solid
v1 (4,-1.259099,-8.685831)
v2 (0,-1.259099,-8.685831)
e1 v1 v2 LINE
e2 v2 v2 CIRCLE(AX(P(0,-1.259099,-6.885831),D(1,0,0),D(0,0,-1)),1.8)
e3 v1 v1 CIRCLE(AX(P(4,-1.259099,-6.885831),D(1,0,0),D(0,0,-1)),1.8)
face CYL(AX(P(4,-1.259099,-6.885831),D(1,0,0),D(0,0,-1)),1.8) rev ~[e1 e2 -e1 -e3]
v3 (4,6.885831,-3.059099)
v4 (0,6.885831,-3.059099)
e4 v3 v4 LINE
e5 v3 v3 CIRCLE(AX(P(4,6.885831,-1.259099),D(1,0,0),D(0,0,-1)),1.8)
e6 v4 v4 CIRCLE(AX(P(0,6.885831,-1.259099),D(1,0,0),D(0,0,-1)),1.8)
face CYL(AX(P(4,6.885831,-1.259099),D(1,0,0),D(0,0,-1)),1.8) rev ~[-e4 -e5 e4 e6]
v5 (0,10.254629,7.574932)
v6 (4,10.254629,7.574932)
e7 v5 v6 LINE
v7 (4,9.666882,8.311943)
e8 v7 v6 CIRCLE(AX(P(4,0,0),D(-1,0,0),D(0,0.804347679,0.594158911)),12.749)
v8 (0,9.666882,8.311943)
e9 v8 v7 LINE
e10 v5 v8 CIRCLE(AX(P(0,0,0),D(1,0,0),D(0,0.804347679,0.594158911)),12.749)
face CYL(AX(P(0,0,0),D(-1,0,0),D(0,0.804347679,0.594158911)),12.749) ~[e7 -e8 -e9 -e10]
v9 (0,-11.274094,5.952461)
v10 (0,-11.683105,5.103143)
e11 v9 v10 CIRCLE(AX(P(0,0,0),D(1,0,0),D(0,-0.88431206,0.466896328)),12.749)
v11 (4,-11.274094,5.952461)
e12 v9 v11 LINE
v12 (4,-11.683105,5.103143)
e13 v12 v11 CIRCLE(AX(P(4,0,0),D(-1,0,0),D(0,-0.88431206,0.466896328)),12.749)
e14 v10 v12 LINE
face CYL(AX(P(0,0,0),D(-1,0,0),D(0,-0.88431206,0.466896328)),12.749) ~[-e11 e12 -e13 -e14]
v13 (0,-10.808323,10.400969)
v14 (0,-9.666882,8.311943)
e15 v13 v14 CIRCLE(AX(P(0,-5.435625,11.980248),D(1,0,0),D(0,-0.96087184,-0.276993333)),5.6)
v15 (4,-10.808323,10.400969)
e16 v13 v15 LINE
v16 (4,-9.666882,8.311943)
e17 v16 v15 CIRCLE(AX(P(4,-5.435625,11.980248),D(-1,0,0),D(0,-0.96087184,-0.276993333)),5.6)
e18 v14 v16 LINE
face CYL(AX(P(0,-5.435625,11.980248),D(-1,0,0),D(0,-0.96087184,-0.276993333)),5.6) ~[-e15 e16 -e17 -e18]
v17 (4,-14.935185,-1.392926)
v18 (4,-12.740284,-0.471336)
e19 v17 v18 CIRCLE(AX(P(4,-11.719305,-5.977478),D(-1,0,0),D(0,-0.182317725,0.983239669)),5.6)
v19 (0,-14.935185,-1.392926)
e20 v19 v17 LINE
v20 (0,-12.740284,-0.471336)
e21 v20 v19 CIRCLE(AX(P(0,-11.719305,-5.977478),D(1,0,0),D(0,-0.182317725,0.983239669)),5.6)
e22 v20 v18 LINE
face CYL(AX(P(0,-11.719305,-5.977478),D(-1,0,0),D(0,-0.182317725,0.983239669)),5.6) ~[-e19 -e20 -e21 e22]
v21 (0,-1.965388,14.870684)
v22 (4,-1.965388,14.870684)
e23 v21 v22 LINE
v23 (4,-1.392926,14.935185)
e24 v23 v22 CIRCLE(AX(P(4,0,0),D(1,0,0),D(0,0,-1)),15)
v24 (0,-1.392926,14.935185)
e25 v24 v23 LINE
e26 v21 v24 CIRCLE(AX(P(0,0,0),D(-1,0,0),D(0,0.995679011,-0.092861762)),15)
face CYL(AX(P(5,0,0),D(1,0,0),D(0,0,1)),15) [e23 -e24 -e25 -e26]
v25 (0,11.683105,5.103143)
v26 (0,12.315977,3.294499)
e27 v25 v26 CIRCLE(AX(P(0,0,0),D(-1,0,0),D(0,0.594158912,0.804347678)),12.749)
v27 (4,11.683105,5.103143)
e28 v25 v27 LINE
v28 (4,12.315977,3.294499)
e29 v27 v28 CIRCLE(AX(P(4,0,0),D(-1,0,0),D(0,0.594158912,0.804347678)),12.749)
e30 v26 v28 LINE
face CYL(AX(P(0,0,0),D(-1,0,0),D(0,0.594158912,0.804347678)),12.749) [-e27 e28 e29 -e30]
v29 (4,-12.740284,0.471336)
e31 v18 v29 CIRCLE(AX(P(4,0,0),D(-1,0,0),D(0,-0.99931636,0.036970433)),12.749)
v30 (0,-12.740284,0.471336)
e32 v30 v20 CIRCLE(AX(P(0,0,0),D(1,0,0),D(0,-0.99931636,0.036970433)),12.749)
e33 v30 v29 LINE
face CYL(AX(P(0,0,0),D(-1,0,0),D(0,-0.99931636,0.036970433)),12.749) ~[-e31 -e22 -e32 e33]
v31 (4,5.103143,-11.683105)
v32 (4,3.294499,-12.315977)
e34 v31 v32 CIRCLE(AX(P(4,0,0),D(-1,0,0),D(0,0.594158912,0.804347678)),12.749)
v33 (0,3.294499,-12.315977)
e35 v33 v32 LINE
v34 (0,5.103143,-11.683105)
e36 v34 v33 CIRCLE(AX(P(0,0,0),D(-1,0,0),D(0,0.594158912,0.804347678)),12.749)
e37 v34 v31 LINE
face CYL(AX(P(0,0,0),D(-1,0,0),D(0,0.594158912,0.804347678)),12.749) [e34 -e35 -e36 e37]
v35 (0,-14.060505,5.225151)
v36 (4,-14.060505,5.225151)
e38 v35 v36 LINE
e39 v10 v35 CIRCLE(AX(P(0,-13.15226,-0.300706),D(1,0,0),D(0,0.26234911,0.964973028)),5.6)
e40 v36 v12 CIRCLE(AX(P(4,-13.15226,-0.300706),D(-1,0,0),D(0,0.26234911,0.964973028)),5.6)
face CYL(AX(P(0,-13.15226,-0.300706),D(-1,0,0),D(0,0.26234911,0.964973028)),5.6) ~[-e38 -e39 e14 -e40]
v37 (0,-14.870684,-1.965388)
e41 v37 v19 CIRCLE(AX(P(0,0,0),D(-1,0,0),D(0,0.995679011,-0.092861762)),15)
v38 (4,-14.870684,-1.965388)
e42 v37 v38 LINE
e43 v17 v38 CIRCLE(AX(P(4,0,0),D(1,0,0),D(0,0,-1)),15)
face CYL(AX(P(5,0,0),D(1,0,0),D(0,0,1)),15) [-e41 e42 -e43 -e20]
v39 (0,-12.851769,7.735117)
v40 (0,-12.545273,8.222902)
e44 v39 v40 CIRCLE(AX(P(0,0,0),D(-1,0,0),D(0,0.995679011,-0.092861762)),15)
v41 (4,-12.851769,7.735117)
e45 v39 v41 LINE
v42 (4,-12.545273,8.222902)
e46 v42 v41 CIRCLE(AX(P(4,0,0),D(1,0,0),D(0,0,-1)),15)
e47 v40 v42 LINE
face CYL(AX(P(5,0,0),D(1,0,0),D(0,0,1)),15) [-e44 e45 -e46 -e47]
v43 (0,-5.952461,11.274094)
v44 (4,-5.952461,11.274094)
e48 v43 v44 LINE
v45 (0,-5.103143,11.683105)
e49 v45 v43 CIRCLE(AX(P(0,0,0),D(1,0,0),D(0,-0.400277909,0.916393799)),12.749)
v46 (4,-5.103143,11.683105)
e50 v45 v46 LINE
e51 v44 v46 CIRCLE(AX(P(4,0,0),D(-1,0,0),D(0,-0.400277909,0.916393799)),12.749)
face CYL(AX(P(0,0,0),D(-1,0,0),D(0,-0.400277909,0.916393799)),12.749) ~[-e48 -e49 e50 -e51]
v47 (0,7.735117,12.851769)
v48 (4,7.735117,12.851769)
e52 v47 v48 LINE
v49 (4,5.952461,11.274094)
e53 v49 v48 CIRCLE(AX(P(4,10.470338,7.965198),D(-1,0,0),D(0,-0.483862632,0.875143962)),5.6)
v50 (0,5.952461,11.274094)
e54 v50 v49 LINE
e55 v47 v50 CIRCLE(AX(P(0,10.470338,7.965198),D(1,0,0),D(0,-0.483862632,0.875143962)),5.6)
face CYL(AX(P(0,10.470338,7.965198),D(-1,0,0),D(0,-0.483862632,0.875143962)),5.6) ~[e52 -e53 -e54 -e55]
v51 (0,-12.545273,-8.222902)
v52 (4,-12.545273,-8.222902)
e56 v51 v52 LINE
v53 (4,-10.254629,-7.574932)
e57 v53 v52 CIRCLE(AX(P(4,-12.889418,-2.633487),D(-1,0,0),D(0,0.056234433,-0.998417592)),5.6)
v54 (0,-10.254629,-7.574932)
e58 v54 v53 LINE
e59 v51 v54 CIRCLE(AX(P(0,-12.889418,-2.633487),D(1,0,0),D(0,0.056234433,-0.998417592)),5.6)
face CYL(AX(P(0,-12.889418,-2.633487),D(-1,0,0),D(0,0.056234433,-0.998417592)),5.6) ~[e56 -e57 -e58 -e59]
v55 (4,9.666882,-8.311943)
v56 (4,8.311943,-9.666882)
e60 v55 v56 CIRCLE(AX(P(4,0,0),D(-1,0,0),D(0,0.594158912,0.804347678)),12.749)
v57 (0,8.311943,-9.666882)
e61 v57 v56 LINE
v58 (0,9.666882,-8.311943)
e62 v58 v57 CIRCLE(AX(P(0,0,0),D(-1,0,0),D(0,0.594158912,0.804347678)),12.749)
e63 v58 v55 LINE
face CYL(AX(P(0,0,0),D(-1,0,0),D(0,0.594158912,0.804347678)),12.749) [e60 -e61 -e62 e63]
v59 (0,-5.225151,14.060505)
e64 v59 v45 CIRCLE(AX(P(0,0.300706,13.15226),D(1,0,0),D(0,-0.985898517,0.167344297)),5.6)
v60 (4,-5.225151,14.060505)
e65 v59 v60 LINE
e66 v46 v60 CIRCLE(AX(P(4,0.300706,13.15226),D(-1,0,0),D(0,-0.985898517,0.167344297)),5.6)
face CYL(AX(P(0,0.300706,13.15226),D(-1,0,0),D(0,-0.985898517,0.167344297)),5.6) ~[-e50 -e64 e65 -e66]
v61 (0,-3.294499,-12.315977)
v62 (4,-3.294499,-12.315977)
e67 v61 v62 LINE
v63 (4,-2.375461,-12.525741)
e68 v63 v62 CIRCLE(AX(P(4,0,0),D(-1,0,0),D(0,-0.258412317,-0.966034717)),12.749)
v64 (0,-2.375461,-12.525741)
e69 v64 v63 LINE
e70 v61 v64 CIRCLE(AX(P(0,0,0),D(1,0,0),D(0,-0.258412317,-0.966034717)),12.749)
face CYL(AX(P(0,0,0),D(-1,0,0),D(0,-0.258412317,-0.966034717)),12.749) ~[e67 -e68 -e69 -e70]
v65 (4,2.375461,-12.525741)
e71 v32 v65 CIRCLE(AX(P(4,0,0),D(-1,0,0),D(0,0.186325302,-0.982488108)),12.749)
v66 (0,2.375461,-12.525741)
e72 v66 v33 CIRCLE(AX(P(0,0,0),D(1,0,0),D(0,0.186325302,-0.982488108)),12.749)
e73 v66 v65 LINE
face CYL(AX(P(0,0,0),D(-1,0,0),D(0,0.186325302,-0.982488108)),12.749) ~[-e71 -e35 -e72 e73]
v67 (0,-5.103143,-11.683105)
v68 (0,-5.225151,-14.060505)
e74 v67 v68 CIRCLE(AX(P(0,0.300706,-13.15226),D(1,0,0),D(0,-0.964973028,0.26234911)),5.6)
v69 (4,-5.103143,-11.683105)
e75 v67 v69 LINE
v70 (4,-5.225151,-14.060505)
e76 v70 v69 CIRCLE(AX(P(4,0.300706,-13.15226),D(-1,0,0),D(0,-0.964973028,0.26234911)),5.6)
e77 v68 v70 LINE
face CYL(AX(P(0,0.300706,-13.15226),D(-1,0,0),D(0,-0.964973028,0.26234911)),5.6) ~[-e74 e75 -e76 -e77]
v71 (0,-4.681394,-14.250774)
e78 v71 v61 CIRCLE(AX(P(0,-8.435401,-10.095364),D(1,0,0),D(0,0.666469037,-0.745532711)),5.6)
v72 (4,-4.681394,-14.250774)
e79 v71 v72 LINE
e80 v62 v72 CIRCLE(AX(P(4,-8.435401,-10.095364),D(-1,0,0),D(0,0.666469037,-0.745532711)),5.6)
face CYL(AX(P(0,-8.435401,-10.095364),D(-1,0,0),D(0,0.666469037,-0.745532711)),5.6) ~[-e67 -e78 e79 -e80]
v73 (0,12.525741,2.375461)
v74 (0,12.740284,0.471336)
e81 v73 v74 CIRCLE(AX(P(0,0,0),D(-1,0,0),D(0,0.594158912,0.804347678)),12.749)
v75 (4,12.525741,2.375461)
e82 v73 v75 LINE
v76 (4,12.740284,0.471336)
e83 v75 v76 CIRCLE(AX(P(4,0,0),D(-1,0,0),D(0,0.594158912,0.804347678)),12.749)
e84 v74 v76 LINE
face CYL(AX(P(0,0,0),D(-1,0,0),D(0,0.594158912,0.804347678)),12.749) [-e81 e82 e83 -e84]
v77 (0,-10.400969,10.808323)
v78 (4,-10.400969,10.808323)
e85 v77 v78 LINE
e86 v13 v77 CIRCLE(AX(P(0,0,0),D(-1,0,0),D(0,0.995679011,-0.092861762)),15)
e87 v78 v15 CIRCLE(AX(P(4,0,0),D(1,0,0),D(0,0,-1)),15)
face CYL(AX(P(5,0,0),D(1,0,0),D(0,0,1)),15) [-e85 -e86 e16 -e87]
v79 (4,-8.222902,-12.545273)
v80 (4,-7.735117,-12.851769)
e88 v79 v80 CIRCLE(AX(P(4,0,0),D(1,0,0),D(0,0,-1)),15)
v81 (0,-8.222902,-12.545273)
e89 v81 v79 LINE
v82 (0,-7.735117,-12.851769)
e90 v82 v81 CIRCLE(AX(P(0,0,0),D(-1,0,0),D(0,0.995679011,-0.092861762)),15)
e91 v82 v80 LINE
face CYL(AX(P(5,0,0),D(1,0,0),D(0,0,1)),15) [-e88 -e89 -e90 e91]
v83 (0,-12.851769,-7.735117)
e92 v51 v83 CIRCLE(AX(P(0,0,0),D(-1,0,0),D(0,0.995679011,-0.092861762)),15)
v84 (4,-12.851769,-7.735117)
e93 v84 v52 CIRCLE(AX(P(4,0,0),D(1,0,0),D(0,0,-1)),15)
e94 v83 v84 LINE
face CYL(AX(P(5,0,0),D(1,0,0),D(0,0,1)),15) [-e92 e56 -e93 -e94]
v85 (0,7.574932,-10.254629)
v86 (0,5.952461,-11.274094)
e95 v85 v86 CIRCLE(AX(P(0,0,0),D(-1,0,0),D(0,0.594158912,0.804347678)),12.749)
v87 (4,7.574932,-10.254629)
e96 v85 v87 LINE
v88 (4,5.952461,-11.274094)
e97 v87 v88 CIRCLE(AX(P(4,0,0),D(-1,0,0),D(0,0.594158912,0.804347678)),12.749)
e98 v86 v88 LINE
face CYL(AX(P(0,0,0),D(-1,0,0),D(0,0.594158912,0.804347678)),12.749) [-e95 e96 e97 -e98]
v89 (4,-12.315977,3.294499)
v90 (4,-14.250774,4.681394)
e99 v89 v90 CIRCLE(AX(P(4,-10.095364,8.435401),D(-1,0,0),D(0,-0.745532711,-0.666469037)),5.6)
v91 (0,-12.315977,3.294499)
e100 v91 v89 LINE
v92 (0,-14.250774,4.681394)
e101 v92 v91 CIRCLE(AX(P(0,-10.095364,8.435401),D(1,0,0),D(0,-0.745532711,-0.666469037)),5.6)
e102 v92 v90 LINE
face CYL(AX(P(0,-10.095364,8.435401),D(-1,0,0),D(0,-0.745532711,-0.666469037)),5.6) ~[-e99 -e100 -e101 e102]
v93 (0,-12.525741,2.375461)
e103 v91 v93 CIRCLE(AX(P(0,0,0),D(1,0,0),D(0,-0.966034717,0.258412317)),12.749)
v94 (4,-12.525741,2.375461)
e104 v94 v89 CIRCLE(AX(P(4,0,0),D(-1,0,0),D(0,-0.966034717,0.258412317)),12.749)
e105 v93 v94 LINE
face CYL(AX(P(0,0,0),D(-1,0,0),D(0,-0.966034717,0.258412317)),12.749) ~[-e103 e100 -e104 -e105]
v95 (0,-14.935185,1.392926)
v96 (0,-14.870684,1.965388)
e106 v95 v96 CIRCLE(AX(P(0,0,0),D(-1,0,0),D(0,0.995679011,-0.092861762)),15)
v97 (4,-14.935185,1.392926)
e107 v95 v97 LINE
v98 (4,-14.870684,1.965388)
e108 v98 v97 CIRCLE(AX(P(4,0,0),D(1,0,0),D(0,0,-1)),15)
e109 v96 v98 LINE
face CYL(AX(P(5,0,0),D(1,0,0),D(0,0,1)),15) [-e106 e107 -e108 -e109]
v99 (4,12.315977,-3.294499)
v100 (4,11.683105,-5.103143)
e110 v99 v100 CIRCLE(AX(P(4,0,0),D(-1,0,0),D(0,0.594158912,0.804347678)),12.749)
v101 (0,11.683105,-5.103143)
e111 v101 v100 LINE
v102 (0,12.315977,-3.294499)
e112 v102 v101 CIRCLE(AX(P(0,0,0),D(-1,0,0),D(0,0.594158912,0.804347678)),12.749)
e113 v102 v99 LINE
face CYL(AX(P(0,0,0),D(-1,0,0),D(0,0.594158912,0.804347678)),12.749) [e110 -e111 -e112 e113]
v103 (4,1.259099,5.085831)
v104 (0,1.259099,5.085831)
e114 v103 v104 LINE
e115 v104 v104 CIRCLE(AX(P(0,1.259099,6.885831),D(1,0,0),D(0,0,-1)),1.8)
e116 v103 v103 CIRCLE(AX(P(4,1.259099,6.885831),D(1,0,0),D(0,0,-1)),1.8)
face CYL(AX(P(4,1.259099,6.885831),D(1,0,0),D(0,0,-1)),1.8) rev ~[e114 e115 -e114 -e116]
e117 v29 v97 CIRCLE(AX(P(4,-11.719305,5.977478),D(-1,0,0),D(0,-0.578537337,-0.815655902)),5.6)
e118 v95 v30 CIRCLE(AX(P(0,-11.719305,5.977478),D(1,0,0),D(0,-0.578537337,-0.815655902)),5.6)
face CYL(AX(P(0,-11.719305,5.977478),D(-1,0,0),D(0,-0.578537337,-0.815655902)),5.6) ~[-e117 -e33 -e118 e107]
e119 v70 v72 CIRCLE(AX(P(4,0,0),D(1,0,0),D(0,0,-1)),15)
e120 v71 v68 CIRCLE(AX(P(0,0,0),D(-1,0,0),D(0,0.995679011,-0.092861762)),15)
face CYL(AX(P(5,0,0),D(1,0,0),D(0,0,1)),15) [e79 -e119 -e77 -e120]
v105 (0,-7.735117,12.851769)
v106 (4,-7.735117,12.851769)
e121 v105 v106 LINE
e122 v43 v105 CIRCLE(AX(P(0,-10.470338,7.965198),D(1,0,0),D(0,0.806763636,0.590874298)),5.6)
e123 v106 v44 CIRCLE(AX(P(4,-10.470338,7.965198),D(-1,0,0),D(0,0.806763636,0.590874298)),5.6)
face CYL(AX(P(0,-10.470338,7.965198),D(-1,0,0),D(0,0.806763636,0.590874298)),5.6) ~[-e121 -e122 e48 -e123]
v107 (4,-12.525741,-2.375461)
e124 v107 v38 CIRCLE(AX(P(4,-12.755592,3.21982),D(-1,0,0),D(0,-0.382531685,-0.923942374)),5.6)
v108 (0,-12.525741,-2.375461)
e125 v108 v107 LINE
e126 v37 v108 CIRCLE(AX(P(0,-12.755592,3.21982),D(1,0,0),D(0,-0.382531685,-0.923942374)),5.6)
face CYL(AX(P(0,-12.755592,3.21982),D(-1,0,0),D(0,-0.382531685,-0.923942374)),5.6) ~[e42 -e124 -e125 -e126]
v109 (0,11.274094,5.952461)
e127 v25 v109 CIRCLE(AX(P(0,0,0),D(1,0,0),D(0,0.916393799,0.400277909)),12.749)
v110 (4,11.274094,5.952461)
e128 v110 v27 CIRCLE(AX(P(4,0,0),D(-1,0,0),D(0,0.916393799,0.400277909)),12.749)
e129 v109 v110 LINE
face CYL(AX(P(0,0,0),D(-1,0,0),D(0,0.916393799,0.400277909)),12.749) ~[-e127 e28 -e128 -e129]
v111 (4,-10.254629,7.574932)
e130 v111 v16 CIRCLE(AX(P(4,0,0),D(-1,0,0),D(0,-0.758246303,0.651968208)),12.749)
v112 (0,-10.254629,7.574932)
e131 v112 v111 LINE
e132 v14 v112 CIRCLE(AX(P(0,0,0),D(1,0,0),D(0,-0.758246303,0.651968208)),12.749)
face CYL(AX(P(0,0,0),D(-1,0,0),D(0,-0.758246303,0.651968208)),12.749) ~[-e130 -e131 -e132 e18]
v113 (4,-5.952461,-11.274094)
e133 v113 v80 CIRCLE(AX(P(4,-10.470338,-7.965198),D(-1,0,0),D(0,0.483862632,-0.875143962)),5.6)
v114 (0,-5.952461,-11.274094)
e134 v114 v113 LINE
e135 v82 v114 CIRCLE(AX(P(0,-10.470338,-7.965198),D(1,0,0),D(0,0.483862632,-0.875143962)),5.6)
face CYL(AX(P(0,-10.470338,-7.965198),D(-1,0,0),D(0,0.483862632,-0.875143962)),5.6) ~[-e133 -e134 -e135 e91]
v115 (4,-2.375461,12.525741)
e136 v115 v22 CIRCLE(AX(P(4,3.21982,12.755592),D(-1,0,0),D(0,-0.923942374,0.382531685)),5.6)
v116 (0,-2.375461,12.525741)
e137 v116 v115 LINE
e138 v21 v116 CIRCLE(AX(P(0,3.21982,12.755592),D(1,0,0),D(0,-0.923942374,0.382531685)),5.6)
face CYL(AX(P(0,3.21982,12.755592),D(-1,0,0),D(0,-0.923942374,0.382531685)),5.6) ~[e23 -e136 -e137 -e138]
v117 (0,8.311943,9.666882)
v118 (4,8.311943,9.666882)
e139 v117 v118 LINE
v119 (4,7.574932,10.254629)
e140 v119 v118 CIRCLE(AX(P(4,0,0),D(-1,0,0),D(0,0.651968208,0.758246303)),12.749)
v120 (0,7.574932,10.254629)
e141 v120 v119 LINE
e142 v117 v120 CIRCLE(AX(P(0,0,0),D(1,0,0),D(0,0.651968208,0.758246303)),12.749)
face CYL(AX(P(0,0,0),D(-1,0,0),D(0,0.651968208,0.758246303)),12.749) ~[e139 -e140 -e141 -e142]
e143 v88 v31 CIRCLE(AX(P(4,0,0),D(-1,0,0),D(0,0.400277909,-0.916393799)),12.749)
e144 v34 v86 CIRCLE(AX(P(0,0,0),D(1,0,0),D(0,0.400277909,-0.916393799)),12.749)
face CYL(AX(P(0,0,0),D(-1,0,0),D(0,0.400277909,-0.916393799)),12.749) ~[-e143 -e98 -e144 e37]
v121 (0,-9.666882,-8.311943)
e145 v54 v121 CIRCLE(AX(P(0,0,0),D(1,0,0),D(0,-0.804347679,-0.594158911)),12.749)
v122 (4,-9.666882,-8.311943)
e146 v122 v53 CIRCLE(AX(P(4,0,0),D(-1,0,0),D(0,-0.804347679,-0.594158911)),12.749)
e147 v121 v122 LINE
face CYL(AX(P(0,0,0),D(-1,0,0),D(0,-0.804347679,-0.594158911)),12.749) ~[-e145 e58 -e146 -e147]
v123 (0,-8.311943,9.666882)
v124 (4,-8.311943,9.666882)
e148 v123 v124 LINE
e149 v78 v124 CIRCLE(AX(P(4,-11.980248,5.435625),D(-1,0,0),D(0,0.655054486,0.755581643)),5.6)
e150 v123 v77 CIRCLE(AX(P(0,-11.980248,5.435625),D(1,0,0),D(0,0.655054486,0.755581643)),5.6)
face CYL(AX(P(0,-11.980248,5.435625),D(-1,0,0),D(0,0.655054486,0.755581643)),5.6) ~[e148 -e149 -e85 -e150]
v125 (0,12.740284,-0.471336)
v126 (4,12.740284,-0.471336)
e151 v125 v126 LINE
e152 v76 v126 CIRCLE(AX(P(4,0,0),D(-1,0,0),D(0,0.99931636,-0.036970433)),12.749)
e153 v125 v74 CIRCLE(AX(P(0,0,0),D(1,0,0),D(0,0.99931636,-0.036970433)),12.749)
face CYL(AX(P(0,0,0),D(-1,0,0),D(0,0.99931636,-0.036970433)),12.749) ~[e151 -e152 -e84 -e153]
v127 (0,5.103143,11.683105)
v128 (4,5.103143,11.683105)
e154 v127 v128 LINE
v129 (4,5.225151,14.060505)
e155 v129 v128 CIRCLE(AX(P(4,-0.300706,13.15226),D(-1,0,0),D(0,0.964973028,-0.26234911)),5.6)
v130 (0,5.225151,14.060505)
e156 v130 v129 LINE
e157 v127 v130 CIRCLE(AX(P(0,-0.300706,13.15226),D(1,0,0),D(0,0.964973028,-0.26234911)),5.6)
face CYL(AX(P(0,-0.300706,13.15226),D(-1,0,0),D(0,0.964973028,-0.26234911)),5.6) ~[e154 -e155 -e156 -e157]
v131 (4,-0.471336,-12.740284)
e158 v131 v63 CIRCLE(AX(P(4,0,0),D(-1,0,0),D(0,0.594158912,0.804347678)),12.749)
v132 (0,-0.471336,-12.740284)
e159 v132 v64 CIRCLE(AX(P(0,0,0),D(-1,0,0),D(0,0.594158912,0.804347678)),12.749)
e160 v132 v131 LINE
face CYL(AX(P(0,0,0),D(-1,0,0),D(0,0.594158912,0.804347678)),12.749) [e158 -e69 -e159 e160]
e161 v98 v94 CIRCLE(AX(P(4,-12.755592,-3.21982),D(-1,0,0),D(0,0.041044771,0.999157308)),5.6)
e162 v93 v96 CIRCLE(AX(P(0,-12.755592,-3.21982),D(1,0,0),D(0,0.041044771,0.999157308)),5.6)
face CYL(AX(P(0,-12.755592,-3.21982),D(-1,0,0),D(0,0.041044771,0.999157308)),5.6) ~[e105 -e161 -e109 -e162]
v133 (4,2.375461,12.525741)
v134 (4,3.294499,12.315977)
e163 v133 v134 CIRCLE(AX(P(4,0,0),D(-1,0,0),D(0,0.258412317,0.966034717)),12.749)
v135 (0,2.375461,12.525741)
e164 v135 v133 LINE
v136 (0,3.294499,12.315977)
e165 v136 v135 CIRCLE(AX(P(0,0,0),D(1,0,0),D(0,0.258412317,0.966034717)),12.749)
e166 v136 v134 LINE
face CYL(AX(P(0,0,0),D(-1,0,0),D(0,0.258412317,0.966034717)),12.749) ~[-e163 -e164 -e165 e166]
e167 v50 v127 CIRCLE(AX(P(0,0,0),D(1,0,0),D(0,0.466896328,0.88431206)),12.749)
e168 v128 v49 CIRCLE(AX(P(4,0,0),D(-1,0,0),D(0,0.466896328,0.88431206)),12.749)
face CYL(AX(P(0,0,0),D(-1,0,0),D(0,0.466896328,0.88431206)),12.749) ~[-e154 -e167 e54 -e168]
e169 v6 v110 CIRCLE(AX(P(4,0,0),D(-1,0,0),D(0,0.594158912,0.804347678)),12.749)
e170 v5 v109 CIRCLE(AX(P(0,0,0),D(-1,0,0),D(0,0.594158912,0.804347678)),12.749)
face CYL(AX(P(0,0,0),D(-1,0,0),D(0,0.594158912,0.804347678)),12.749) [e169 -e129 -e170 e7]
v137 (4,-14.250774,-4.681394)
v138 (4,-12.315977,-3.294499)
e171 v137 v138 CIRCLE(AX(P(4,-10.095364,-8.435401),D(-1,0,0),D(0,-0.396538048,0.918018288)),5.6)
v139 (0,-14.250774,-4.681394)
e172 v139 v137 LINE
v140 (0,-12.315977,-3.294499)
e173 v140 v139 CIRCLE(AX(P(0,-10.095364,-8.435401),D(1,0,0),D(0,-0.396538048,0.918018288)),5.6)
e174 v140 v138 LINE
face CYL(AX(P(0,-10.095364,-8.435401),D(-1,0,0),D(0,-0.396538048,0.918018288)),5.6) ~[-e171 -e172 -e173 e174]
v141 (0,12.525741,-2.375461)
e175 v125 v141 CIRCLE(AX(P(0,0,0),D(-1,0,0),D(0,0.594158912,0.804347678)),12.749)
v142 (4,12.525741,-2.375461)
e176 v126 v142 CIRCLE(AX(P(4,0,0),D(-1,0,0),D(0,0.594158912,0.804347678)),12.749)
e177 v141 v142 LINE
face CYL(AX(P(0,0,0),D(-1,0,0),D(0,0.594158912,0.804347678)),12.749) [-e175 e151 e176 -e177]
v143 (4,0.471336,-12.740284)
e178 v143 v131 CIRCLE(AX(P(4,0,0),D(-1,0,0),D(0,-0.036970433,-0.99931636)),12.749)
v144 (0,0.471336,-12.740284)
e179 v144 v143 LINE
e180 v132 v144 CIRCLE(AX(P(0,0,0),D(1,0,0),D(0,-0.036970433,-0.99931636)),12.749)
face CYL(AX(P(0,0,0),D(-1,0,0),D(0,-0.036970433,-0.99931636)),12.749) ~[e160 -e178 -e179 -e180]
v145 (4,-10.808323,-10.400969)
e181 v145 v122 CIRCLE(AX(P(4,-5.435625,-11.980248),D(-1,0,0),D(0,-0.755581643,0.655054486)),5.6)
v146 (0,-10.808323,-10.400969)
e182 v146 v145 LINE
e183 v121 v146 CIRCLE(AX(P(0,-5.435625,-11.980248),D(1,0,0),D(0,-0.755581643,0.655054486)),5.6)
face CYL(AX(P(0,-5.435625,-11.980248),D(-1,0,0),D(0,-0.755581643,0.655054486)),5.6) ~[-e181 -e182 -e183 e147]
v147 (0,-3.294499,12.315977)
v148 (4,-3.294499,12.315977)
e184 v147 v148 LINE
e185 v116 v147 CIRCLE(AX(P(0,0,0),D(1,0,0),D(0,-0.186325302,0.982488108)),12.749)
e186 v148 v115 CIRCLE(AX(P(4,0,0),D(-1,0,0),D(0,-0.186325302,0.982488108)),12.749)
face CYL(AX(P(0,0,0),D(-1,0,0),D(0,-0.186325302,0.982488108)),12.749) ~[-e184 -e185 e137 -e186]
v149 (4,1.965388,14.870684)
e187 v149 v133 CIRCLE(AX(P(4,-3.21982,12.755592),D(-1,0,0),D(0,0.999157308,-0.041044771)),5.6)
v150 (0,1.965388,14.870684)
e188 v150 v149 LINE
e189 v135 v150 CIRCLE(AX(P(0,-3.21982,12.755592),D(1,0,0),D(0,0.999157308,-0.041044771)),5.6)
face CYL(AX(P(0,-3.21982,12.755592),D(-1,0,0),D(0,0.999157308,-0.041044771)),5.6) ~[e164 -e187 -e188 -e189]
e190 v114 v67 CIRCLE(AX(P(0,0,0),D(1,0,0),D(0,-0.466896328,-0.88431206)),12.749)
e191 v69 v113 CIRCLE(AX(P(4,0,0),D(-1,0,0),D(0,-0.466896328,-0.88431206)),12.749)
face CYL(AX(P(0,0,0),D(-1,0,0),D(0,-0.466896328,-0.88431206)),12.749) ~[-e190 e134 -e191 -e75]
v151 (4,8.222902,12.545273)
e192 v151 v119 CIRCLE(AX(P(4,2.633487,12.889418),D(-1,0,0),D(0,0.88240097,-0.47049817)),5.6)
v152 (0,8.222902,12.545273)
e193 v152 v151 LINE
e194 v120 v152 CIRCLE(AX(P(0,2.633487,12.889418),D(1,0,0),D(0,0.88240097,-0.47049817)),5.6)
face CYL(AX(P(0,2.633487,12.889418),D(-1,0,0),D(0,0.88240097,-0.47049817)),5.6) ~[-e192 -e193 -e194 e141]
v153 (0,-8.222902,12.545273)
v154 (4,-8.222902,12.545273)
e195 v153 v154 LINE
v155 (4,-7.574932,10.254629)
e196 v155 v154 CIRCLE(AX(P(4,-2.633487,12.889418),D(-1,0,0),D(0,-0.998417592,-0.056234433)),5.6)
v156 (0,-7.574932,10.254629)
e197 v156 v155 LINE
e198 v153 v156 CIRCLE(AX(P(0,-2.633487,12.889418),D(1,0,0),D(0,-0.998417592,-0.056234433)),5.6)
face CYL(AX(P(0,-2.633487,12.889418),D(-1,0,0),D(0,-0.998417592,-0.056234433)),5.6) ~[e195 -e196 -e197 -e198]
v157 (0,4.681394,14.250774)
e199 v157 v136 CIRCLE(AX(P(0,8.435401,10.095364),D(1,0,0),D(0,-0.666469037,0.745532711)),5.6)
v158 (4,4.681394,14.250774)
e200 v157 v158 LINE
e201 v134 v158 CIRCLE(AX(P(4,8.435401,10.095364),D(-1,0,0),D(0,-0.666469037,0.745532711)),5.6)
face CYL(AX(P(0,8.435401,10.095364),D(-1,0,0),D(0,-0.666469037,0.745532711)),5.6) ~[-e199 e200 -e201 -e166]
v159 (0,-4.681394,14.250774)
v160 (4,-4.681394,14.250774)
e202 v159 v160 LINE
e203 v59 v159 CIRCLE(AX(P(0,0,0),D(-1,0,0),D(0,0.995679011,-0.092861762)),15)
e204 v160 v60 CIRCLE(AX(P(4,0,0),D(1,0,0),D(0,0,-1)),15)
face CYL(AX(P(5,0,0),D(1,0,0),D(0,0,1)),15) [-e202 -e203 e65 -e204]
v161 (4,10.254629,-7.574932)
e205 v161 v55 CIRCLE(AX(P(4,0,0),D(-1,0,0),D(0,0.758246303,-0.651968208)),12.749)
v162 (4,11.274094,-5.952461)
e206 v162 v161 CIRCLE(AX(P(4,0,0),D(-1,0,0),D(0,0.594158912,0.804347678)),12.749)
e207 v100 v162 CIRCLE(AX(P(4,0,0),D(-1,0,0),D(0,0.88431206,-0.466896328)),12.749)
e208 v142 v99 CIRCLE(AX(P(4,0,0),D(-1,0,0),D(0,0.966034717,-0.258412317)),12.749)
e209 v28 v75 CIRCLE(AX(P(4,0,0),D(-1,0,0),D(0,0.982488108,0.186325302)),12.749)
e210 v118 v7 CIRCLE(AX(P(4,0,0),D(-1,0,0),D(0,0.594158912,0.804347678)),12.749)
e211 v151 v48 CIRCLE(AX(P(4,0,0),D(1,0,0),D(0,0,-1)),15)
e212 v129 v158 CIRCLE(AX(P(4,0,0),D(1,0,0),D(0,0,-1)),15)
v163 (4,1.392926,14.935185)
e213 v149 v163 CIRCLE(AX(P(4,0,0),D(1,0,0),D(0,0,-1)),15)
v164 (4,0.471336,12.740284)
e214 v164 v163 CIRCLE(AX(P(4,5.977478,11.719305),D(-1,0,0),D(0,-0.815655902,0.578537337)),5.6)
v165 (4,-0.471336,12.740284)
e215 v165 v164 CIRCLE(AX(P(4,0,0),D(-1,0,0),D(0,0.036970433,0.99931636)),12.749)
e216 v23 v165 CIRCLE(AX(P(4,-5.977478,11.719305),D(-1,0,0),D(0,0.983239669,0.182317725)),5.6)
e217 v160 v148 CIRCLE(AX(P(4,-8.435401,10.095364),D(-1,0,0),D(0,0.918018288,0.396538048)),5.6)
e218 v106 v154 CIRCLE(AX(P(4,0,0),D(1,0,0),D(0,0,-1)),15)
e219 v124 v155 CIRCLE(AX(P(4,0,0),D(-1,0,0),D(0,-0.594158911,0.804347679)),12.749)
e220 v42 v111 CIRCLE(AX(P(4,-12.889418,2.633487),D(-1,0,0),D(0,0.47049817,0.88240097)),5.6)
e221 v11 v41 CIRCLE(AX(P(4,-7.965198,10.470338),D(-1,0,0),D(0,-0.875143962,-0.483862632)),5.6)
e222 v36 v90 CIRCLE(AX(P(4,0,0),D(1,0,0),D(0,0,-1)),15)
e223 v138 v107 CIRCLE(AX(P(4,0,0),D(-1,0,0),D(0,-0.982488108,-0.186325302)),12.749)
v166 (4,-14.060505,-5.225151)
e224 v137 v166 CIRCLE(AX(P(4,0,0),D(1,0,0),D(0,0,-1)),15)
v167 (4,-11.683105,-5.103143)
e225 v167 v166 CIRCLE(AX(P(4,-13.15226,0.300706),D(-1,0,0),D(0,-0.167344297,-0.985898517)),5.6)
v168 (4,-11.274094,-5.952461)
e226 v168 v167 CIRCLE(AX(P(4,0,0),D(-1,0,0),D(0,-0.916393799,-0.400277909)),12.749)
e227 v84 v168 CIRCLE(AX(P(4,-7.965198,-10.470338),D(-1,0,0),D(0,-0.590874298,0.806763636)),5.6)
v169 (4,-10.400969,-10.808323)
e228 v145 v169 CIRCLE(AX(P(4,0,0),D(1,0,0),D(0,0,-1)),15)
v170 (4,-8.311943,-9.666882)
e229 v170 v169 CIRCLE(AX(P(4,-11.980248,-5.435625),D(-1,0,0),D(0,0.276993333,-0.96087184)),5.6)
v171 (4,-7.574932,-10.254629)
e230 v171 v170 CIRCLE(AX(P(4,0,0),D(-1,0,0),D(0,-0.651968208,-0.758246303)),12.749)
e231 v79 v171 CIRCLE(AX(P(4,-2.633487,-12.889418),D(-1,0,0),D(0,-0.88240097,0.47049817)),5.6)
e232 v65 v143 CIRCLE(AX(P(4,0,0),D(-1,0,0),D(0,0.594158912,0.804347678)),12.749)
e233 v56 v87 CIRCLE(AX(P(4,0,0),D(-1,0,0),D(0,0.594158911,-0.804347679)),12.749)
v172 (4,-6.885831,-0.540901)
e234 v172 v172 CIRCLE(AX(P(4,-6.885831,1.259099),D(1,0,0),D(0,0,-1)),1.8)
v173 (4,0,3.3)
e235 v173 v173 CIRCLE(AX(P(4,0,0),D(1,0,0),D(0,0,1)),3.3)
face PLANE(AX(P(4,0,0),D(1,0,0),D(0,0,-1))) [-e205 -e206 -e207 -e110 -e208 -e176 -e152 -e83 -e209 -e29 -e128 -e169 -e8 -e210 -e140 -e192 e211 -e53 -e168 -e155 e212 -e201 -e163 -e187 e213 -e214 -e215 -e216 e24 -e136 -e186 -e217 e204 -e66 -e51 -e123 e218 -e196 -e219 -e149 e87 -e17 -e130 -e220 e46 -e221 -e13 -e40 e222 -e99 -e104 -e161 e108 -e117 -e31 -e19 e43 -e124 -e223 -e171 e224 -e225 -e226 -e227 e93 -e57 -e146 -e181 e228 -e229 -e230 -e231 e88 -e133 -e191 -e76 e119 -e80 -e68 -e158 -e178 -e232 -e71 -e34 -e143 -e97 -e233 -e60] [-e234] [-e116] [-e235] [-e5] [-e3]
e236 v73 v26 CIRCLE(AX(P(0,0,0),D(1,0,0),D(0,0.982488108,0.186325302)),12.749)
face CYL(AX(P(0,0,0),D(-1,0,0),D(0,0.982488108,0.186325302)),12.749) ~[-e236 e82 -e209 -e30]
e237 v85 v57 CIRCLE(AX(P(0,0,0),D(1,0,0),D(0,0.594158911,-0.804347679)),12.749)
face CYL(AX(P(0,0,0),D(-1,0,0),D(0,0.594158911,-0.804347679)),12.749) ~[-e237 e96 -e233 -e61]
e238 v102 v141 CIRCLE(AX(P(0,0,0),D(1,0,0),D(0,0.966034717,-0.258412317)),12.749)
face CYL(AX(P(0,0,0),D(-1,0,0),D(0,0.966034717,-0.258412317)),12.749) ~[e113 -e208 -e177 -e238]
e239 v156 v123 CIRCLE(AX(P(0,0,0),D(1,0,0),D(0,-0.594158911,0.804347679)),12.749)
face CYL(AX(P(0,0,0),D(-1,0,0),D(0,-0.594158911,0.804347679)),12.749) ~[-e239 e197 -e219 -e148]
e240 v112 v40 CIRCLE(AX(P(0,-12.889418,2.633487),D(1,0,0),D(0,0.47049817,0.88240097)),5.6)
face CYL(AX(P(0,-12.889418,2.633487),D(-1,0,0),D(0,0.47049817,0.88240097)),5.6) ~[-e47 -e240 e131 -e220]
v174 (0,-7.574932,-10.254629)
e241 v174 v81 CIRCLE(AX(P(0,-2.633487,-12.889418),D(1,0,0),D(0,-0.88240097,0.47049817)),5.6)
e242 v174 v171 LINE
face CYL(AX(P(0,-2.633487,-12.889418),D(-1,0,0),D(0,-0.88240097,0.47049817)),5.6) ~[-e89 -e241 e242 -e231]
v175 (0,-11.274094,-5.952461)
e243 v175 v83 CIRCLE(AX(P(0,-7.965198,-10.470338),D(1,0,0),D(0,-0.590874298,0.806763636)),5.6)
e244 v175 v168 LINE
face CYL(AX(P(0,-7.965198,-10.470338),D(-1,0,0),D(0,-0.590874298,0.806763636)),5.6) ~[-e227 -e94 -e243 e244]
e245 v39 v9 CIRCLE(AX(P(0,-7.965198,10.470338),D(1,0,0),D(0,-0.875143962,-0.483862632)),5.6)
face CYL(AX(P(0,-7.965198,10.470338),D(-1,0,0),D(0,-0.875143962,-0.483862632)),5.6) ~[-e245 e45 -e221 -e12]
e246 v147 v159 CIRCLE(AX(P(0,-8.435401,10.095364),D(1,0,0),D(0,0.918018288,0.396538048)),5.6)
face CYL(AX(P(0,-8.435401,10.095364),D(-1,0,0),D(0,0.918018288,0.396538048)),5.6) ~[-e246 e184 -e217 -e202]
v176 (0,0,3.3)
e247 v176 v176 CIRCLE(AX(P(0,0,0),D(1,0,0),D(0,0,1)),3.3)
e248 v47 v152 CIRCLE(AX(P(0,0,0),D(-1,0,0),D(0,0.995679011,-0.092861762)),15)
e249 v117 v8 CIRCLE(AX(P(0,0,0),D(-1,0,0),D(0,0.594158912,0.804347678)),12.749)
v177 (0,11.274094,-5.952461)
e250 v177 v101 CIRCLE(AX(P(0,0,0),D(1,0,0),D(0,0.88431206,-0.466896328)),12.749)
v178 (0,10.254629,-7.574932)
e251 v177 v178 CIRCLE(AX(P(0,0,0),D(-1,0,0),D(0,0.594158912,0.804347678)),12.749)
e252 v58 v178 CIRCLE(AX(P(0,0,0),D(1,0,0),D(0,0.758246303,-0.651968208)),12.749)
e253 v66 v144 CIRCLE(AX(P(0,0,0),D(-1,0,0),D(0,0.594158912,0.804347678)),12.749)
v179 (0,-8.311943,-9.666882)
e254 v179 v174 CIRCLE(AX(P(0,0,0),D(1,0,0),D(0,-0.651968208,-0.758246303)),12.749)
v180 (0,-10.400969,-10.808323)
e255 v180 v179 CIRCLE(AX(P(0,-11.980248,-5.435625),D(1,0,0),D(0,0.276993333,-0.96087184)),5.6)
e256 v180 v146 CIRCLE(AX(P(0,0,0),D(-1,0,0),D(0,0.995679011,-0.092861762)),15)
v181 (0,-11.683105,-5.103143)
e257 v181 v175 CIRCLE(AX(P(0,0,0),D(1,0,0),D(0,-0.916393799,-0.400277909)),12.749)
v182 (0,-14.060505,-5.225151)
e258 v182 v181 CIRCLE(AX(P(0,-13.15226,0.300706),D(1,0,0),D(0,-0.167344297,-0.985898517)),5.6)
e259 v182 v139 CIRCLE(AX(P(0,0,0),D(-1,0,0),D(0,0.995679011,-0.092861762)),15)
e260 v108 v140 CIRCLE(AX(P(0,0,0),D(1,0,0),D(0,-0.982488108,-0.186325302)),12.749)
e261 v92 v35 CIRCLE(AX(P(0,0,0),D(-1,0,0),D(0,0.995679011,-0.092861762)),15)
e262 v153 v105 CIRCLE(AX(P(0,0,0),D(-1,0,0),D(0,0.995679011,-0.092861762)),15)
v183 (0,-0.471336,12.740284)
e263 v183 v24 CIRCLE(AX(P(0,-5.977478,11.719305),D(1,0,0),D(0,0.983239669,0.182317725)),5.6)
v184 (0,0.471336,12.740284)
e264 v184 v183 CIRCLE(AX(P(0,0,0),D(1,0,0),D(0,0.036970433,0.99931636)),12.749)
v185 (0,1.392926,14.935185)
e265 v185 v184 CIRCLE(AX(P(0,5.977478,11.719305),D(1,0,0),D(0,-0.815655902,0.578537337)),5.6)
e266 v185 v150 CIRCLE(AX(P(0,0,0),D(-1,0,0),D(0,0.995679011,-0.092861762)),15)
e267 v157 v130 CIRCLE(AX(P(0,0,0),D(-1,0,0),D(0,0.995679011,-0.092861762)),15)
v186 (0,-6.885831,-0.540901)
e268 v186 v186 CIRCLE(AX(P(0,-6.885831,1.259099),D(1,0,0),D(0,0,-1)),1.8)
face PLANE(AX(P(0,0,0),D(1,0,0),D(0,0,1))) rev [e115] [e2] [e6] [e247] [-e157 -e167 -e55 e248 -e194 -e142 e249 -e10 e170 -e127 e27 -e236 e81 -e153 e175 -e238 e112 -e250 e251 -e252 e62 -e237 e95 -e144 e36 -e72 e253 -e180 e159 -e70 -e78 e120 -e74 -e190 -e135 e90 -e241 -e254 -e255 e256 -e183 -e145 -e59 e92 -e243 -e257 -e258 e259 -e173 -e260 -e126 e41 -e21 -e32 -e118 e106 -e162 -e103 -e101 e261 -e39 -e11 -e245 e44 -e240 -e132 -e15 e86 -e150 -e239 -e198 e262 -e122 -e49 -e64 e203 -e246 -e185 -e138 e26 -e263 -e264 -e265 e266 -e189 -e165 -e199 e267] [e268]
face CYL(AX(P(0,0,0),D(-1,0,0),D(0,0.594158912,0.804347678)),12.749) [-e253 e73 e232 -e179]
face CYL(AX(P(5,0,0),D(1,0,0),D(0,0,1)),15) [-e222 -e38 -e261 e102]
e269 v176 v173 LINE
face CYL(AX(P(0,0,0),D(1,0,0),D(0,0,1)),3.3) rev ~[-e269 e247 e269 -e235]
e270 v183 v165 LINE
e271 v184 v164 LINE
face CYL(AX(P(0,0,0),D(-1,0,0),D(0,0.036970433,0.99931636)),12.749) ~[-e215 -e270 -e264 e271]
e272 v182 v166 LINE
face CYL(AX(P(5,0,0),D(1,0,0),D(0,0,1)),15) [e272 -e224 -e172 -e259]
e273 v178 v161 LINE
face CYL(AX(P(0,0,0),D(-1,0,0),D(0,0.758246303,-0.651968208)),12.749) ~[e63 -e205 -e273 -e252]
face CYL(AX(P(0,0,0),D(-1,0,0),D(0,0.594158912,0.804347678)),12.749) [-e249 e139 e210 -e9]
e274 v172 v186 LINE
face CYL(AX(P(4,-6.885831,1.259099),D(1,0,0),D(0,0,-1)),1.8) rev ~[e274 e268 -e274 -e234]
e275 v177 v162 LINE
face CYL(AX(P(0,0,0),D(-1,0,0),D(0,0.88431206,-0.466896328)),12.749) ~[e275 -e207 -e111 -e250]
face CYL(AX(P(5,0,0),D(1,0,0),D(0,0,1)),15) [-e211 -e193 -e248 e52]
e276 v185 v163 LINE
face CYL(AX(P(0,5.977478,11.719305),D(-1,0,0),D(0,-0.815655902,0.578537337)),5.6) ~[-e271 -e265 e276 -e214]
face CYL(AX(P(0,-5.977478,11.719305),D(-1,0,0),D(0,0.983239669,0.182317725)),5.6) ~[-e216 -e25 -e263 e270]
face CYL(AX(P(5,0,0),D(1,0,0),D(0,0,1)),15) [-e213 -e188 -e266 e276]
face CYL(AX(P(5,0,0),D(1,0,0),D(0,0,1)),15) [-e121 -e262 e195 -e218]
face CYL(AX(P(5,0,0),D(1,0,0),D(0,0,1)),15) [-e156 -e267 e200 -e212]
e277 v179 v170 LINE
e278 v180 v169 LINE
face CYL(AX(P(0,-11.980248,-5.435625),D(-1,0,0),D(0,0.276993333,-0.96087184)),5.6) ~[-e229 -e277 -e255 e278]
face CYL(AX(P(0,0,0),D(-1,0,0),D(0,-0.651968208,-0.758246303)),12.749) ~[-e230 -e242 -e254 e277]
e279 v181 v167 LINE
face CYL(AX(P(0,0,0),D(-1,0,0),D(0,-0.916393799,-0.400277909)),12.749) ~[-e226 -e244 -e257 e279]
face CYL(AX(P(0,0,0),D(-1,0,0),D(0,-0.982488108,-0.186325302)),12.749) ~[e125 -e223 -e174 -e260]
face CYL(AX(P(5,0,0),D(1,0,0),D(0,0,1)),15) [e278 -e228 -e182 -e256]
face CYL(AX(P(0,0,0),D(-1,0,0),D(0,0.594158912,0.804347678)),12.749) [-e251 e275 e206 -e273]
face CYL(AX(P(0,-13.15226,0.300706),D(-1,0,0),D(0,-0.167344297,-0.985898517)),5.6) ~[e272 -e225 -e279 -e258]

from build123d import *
from build123d.topology import SkipClean

# Parameters (mm, degrees)
BASPROSKE_W         = 10
BASPROSKE_H         = 15
TOOTHCUT_DEPTH      = 24.452078799
TEETHCUTS_COUNT     = 28
TEETHCUTS_ANGLE     = 347.142857143
BORSKE_R            = 3.3
BORE_DEPTH          = 50.0000508
SKETCH_1_R          = 15
CUT_EXTRUDE_1_DEPTH = 6
CUT_EXTRUDE_2_DEPTH = 10
SKETCH_3_R          = 1.8
CUT_EXTRUDE_3_DEPTH = 10


with BuildPart() as part:
    # BasProSke → Base-Revolve (revolve)
    with BuildSketch(Plane(origin=(0, 0, 0), x_dir=(1, 0, 0), z_dir=(0, 1, 0)), mode=Mode.PRIVATE) as base_revolve_sk:
        with Locations((5, 7.5)):
            Rectangle(BASPROSKE_W, BASPROSKE_H)
    revolve(base_revolve_sk.sketch.rotate(Axis((-10, 0, 0), (1, 0, 0)), 180), axis=Axis((-10, 0, 0), (1, 0, 0)))

    # TooCutSke → ToothCut (cut, through all)
    with BuildSketch(Plane(origin=(0, 0, 0), x_dir=(0, 0, -1), z_dir=(1, 0, 0))):
        with BuildLine():
            ThreePointArc((0.471336039, 12.740284272), (0, 12.749), (-0.471336039, 12.740284272))
            ThreePointArc((-0.471336039, 12.740284272), (-0.81983923, 13.900763331), (-1.409805137, 14.959114099))
            ThreePointArc((-1.409805137, 14.959114099), (0, 15.0254), (1.409805137, 14.959114099))
            ThreePointArc((1.409805137, 14.959114099), (0.81983923, 13.900763331), (0.471336039, 12.740284272))
        make_face()
    toothcut = extrude(amount=TOOTHCUT_DEPTH, mode=Mode.SUBTRACT)

    # TeethCuts: ToothCut ×28 about axis
    teethcuts_axis = Axis((-10, 0, 0), (1, 0, 0))
    for i in range(1, TEETHCUTS_COUNT):
        add(toothcut.rotate(teethcuts_axis, i * TEETHCUTS_ANGLE / (TEETHCUTS_COUNT - 1)), mode=Mode.SUBTRACT)

    # BorSke → Bore (cut, symmetric)
    with BuildSketch(Plane(origin=(0, 0, 0), x_dir=(0, 0, -1), z_dir=(1, 0, 0))):
        with Locations(Location((0, 0, 0), (0, 0, 180))):
            Circle(BORSKE_R)
    extrude(amount=BORE_DEPTH, both=True, mode=Mode.SUBTRACT)

    # ｽｹｯﾁ1 → ｶｯﾄ - 押し出し1 (cut)
    with BuildSketch(Plane(origin=(10, 0, 0), x_dir=(0, 0, -1), z_dir=(1, 0, 0))):
        Circle(SKETCH_1_R)
    extrude(amount=-CUT_EXTRUDE_1_DEPTH, mode=Mode.SUBTRACT)

    # ｽｹｯﾁ2 → ｶｯﾄ - 押し出し2 (cut)
    with SkipClean():  # the faces are left unmerged after this step: merging them gives an invalid solid
        with BuildSketch(Plane.ZY):
            with BuildLine():
                Line((-12.525740882, -2.375461295), (-14.737321612, -2.794879553))
                ThreePointArc((-14.737321612, -2.794879553), (-6.004168657, 13.745906981), (12.065215177, 8.912383672))
                Line((12.065215177, 8.912383672), (10.254628553, 7.574931963))
                ThreePointArc((10.254628553, 7.574931963), (-5.10314308, 11.68310454), (-12.525740882, -2.375461295))
            make_face()
        extrude(amount=-CUT_EXTRUDE_2_DEPTH, mode=Mode.SUBTRACT)

    # ｽｹｯﾁ3 → ｶｯﾄ - 押し出し3 (cut)
    with SkipClean():  # the faces are left unmerged after this step: merging them gives an invalid solid
        with BuildSketch(Plane(origin=(4, 0, 0), x_dir=(0, 0, -1), z_dir=(1, 0, 0))):
            with Locations((-6.885831114, 1.259098832)):
                Circle(SKETCH_3_R)
            with Locations((1.259098832, 6.885831114)):
                Circle(SKETCH_3_R)
            with Locations((6.885831114, -1.259098832)):
                Circle(SKETCH_3_R)
            with Locations((-1.259098832, -6.885831114)):
                Circle(SKETCH_3_R)
        extrude(amount=-CUT_EXTRUDE_3_DEPTH, mode=Mode.SUBTRACT)


solid = part.part
